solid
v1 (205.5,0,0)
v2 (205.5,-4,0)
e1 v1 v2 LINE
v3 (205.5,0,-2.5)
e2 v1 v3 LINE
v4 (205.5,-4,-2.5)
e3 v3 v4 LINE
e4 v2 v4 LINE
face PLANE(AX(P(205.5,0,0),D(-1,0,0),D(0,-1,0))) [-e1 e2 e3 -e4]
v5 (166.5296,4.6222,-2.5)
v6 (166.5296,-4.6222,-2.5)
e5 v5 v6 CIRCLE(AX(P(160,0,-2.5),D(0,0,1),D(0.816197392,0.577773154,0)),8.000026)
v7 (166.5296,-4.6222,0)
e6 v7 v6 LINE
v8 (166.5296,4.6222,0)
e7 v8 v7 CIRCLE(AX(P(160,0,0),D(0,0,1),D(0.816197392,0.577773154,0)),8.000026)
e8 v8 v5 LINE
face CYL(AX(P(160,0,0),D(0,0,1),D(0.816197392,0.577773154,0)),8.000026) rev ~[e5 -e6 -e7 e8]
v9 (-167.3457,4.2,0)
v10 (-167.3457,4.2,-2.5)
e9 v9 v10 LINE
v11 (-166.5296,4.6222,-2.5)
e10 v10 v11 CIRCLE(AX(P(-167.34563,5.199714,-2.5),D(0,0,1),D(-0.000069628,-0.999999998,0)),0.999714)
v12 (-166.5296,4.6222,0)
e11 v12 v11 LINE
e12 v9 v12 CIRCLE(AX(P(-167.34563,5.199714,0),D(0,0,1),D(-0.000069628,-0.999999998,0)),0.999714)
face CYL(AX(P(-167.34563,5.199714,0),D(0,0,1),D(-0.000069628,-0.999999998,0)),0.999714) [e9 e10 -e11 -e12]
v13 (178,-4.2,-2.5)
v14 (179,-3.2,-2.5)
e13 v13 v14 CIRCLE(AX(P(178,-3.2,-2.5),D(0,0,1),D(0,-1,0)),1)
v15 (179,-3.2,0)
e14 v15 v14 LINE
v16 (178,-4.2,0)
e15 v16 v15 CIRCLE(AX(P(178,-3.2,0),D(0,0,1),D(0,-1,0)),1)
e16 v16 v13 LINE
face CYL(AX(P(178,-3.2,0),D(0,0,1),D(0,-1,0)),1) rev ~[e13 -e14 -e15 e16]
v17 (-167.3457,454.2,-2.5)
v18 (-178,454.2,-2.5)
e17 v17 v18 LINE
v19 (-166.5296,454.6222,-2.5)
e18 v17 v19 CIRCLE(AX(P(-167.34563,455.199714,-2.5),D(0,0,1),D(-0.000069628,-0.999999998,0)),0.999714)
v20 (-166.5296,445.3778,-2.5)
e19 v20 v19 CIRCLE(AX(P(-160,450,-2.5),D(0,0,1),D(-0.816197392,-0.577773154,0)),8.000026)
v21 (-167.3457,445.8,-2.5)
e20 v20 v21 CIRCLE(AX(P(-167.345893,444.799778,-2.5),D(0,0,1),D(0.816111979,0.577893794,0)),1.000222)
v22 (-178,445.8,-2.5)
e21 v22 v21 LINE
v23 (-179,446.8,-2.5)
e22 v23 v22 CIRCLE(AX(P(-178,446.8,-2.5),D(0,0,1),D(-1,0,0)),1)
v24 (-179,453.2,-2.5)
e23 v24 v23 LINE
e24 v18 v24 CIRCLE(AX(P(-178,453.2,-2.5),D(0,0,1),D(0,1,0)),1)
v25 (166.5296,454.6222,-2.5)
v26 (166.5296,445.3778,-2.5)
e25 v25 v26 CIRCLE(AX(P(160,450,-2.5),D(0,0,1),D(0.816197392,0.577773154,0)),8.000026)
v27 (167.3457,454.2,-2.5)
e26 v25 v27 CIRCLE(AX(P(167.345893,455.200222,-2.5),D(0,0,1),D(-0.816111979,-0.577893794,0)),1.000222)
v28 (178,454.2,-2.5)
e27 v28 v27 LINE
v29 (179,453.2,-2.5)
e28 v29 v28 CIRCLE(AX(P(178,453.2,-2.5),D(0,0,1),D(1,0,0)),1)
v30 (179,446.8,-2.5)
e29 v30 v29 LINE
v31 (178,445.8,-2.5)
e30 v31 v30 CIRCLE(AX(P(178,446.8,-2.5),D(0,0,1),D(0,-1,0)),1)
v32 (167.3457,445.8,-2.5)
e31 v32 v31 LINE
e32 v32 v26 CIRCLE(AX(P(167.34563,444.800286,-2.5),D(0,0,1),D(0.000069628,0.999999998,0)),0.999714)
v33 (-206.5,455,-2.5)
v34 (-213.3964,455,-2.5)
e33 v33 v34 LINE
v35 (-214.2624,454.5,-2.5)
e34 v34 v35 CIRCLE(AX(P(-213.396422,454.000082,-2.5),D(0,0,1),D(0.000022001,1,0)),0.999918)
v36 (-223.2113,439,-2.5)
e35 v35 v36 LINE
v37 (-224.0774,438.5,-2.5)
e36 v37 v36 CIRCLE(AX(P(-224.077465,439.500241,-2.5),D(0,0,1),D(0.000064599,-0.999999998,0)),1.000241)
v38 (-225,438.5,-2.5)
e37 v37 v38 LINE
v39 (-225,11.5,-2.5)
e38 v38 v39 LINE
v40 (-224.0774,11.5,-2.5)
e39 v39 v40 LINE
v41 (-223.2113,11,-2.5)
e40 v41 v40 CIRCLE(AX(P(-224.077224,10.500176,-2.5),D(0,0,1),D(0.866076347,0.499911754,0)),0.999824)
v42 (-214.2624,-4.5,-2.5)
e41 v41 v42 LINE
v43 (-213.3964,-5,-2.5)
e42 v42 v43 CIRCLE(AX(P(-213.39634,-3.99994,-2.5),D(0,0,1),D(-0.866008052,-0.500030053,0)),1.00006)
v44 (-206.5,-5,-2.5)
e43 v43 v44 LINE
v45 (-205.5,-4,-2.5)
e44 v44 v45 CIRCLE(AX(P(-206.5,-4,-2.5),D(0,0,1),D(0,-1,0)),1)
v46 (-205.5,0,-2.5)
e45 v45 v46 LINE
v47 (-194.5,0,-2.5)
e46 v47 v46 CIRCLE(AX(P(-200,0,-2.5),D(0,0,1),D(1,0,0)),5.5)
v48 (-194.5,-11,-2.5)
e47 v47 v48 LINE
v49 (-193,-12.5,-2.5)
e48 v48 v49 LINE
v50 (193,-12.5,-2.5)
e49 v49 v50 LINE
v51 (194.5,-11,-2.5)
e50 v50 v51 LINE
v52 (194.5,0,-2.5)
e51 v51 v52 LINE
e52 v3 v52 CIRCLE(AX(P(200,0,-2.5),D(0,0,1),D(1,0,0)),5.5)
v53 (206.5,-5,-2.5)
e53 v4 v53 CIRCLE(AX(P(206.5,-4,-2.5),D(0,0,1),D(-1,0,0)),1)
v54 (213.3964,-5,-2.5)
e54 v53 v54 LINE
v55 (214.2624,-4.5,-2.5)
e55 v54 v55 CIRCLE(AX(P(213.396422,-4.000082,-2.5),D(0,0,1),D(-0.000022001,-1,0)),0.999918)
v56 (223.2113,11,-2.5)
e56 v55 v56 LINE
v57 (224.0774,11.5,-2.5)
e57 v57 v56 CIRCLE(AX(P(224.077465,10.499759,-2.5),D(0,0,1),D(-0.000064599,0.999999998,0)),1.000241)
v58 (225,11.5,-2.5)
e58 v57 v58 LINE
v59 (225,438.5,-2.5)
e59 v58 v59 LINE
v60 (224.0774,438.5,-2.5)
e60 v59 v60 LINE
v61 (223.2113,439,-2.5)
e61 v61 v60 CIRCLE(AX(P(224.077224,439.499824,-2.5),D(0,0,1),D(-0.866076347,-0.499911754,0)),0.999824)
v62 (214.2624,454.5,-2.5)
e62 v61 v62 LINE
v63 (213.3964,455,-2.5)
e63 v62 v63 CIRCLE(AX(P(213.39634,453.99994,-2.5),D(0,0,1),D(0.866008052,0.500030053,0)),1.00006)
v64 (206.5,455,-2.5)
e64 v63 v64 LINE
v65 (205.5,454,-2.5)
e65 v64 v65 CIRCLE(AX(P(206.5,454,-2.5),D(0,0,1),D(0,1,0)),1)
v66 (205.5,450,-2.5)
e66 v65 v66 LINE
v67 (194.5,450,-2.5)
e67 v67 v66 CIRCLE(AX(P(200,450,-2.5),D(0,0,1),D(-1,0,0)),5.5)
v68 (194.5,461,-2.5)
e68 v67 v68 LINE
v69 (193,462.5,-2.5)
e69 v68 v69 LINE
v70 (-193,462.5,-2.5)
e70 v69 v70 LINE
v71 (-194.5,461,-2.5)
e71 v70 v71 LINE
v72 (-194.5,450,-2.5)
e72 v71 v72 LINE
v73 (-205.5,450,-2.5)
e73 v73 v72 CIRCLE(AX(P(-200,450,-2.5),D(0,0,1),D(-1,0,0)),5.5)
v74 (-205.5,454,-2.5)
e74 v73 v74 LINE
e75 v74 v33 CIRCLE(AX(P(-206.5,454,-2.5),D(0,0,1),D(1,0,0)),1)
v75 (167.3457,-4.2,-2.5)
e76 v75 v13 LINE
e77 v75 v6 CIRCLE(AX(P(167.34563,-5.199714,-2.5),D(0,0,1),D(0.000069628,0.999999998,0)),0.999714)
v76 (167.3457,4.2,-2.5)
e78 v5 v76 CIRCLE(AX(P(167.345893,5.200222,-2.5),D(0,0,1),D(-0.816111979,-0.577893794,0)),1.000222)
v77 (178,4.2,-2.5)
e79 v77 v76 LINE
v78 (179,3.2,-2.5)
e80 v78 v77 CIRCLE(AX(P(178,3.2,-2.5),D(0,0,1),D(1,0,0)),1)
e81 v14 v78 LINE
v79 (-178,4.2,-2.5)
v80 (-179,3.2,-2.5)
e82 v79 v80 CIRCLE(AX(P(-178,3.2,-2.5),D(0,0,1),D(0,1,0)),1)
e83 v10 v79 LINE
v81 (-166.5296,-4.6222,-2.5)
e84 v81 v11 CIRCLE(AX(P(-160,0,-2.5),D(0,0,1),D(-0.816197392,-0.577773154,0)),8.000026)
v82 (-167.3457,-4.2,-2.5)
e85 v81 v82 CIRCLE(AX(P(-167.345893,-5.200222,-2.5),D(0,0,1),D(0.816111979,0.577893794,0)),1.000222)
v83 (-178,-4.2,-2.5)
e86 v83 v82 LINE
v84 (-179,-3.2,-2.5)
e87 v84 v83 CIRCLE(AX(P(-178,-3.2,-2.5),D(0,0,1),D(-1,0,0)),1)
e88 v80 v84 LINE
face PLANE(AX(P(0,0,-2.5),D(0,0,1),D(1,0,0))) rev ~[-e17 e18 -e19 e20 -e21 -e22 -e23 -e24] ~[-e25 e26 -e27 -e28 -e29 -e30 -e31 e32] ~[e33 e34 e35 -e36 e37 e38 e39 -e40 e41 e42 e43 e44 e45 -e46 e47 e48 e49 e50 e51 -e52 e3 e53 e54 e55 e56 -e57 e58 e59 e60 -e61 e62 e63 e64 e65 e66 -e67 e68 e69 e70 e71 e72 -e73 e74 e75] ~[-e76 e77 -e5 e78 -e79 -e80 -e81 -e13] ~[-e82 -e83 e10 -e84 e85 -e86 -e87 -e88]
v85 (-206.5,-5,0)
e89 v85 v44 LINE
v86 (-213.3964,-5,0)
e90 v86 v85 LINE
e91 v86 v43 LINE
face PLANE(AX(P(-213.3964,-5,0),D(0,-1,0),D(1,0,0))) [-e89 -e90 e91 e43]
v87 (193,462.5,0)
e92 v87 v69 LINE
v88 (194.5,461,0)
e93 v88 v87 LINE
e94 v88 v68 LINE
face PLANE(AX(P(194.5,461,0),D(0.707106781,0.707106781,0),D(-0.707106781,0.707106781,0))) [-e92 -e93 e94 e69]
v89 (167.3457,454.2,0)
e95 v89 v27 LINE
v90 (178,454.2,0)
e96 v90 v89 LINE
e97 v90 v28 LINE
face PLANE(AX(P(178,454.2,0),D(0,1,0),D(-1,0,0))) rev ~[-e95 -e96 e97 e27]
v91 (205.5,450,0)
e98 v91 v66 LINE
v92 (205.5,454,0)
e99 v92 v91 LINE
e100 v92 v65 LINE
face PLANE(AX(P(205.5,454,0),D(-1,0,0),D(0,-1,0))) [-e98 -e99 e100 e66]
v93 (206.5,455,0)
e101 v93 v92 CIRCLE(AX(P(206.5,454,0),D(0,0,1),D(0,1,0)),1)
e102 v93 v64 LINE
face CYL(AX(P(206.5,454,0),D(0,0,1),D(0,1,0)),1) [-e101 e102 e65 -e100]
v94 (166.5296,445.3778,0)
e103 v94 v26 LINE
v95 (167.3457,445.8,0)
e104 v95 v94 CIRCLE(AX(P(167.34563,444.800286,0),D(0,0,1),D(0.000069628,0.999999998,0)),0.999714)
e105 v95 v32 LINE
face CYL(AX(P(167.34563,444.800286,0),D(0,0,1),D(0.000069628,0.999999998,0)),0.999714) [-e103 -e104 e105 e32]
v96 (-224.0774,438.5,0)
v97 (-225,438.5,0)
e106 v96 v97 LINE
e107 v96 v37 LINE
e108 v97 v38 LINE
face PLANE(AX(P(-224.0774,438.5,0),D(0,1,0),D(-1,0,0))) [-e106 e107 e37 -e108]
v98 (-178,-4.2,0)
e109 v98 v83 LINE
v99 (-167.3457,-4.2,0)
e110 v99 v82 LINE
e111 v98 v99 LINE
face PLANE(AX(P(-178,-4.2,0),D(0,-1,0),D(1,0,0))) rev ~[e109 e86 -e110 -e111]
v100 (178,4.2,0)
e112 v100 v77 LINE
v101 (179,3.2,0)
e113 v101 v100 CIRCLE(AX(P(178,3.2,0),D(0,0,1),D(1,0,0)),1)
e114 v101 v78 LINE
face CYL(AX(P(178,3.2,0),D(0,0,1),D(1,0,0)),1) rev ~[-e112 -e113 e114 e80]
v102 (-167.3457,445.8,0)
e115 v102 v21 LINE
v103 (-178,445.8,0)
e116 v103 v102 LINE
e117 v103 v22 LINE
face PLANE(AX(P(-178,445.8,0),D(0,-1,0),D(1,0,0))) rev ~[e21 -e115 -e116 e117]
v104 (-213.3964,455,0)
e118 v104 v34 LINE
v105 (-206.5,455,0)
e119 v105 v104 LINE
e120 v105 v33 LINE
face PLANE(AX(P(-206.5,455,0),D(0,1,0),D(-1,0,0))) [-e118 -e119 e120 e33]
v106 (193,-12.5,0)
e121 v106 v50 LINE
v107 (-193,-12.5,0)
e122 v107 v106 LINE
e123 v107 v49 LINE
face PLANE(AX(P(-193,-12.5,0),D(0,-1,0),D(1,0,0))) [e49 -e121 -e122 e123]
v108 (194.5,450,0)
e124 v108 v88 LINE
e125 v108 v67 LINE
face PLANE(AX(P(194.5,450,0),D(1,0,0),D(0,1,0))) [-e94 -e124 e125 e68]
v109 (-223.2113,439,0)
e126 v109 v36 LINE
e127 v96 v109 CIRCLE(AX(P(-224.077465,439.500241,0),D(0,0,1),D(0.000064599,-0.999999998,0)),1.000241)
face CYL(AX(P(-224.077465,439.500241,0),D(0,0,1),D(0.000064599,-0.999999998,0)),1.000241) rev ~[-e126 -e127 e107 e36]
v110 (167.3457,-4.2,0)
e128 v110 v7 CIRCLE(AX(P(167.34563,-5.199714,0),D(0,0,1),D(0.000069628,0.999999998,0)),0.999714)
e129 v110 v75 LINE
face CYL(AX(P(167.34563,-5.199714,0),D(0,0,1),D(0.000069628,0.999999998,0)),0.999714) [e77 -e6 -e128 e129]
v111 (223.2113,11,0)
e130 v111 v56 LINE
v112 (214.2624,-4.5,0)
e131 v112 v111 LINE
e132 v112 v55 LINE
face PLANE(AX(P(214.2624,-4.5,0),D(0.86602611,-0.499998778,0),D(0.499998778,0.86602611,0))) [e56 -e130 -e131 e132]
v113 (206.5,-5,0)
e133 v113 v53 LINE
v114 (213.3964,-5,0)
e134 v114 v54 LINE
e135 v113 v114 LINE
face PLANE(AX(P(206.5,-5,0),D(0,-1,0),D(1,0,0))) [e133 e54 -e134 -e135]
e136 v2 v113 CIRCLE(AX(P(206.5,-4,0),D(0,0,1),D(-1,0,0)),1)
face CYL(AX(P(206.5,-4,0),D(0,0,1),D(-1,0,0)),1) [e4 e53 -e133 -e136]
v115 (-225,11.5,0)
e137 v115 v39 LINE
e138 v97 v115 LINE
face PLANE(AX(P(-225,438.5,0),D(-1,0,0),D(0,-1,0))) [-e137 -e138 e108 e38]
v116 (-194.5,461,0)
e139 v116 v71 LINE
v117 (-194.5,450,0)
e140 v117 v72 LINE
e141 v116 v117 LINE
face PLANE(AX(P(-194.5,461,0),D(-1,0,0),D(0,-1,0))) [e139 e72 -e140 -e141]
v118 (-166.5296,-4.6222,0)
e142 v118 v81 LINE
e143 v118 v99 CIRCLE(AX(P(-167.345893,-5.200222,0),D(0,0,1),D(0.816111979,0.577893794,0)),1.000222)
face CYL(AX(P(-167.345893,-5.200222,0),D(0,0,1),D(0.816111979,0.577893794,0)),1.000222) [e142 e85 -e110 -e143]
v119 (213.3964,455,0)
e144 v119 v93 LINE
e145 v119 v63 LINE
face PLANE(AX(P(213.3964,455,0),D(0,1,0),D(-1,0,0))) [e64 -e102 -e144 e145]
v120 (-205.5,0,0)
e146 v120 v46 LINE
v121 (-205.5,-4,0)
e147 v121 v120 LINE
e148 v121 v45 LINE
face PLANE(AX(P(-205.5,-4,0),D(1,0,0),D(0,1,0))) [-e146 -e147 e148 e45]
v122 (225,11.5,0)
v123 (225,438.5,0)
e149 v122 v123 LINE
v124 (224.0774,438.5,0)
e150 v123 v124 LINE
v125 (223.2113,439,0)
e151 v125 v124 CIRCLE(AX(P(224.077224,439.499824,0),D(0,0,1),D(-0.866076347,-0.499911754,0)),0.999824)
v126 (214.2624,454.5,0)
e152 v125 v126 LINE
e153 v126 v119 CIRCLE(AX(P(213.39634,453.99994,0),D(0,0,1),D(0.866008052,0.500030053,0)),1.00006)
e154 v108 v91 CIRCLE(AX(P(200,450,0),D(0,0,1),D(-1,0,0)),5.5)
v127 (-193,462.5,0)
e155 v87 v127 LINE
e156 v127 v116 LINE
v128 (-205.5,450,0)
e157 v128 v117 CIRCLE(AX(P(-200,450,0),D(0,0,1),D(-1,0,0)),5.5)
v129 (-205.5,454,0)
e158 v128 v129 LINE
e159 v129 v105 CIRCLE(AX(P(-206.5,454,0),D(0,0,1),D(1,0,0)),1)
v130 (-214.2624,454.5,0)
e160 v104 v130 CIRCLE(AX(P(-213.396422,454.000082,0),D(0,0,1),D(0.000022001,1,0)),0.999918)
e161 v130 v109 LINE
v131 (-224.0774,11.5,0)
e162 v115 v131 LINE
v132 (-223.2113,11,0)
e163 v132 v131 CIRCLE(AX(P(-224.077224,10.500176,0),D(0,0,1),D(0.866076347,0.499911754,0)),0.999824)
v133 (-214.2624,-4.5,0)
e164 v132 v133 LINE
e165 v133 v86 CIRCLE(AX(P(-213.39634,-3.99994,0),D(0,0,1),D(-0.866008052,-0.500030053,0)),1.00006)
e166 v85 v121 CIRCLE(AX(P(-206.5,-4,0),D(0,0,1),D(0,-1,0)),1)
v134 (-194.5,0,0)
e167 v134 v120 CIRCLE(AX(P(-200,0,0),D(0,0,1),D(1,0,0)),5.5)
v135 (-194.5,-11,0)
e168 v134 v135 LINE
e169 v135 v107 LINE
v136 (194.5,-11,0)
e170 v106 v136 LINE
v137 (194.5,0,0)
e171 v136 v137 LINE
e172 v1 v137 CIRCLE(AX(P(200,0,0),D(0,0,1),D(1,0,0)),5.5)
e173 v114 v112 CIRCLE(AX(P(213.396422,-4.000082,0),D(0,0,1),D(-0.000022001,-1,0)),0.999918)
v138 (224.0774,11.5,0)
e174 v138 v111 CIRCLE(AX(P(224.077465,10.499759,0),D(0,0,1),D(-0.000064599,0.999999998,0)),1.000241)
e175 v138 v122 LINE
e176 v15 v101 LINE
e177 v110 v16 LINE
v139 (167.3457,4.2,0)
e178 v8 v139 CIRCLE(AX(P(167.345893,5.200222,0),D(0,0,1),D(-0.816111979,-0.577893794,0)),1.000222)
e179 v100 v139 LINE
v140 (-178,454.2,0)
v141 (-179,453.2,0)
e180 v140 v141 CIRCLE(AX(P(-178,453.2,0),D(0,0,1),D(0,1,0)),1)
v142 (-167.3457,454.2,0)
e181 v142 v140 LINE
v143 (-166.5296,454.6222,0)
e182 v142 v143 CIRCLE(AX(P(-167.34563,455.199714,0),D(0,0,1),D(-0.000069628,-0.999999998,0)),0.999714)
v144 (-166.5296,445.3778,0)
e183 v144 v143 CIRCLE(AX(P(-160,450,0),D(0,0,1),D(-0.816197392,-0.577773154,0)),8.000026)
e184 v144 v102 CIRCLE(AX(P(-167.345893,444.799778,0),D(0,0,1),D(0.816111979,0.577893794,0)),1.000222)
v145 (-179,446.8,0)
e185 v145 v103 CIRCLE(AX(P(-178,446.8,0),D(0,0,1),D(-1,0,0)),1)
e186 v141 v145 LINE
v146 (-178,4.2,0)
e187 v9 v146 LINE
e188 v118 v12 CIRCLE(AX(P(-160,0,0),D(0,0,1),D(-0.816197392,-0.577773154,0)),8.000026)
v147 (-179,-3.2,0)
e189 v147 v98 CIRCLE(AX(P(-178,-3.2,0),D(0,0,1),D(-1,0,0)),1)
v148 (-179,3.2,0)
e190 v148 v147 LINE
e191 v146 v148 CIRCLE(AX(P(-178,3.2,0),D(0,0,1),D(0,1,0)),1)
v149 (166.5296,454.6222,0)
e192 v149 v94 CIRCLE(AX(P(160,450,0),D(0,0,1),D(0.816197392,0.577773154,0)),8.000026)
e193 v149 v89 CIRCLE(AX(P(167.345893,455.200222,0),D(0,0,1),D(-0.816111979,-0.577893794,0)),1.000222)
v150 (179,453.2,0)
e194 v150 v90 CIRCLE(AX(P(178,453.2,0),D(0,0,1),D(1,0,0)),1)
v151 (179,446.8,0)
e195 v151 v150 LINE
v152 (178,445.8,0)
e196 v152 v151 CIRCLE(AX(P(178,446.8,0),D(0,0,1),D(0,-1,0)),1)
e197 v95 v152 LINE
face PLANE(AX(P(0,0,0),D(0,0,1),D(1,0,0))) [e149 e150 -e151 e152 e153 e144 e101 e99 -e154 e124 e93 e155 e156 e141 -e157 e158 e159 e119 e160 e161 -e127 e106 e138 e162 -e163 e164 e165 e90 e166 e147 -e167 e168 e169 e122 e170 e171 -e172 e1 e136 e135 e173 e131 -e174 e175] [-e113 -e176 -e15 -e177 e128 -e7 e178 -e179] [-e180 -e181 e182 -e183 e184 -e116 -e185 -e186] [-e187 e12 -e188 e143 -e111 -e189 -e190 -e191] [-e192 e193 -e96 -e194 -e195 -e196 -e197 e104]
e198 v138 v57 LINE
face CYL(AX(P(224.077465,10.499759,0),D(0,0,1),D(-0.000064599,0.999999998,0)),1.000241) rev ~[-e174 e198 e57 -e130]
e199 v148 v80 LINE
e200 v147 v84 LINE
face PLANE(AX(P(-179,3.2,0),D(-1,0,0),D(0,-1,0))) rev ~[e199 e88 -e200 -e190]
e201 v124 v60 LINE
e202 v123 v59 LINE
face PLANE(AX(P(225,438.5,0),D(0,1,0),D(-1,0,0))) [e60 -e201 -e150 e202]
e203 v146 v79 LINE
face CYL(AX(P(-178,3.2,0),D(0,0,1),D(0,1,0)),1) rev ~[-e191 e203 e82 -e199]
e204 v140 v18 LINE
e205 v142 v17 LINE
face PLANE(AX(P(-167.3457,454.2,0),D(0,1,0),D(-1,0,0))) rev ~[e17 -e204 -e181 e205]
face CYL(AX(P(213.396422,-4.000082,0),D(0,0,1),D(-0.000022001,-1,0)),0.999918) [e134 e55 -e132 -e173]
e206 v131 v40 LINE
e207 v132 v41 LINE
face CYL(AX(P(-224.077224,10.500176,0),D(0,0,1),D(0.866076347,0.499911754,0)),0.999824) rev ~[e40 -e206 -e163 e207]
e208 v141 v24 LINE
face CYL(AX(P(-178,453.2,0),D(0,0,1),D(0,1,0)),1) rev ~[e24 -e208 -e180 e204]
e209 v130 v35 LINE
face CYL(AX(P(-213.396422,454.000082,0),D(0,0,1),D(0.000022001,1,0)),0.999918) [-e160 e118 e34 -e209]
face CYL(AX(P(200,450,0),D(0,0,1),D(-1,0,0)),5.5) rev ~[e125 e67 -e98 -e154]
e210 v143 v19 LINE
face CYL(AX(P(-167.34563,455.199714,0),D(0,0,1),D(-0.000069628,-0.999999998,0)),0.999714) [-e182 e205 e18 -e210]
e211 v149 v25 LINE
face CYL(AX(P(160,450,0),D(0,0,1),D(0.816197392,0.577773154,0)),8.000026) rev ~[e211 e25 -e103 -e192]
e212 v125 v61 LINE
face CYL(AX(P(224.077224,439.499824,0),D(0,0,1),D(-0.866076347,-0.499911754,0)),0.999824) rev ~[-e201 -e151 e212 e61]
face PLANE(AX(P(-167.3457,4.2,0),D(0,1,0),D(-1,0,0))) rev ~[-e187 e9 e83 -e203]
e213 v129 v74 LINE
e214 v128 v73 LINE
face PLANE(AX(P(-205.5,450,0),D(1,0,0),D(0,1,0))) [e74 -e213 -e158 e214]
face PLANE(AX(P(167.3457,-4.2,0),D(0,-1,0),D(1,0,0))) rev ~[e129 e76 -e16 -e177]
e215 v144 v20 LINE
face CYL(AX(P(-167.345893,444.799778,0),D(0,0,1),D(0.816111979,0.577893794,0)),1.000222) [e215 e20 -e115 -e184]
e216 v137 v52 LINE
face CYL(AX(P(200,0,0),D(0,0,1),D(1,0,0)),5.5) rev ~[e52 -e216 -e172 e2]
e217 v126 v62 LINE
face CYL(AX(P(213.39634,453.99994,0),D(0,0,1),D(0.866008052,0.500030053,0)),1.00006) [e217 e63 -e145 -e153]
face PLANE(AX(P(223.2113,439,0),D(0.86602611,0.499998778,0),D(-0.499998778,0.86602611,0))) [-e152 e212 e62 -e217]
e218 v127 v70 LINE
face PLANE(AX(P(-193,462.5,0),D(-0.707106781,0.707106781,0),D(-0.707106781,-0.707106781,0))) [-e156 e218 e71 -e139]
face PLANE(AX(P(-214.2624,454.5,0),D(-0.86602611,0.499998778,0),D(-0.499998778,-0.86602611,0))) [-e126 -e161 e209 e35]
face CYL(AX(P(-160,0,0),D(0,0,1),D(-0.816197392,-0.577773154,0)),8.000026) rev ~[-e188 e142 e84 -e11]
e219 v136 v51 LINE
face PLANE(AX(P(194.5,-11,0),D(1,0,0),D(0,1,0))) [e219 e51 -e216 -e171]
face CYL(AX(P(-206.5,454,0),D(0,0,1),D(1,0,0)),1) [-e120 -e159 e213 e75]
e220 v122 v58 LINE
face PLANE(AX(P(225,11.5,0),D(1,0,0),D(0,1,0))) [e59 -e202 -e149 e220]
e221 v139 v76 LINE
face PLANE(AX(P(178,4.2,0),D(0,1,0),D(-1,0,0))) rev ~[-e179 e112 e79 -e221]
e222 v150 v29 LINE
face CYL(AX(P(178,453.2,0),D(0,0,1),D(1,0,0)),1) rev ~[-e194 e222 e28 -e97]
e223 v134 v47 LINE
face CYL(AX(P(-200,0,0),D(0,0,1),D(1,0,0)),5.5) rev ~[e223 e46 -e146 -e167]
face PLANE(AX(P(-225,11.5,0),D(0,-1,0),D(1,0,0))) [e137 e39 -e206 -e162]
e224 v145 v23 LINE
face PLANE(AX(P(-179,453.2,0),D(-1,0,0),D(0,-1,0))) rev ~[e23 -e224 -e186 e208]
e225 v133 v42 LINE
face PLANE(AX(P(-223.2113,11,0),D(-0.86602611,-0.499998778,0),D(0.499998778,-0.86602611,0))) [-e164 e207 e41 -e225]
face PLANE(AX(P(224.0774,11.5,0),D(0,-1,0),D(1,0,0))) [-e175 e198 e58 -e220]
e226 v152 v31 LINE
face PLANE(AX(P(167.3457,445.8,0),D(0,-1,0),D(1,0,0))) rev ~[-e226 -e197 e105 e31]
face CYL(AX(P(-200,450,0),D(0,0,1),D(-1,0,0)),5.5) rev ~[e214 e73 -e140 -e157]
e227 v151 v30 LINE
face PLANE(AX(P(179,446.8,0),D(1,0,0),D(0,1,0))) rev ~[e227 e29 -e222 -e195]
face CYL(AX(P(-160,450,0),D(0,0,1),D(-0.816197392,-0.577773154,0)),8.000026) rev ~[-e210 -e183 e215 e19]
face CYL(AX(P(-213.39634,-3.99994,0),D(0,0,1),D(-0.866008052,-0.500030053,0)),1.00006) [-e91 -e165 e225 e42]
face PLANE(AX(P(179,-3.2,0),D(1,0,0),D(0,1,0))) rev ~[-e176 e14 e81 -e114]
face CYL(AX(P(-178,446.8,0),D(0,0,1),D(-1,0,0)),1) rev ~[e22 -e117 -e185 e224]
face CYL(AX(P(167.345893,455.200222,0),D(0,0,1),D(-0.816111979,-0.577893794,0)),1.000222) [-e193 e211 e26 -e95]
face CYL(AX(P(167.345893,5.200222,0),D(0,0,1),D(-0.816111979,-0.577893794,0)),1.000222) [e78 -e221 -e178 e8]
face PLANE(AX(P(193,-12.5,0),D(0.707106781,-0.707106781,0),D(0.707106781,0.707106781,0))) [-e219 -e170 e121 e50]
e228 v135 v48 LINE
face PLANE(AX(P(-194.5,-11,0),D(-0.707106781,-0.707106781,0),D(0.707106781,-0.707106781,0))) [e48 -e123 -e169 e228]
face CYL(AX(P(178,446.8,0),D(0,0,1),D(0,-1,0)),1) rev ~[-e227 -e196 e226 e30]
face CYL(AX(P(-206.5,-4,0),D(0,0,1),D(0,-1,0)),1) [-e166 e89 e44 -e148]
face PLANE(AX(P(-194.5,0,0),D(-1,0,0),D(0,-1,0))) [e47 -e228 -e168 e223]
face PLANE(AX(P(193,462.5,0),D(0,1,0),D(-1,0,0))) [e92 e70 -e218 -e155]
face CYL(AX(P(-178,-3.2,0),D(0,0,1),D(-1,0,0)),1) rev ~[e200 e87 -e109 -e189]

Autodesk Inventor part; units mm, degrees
sketch "Sketch_11" plane through (0, 0, 0) normal (0, 0, 1) x (1, 0, 0)
  line L0 (-225, 438.5) -> (-225, 11.5)
  line L1 (-225, 11.5) -> (-224.0774, 11.5)
  arc A0 (-223.2113, 11) -> (-224.0774, 11.5) centre (-224.0774, 10.5) ccw
  line L2 (-223.2113, 11) -> (-214.2624, -4.5)
  arc A1 (-214.2624, -4.5) -> (-213.3964, -5) centre (-213.3964, -4) ccw
  line L3 (-213.3964, -5) -> (-206.5, -5)
  arc A2 (-206.5, -5) -> (-205.5, -4) centre (-206.5, -4) ccw
  line L4 (-205.5, -4) -> (-205.5, 0)
  arc A3 (-194.5, 0) -> (-205.5, 0) centre (-200, 0) ccw
  line L5 (-194.5, 0) -> (-194.5, -11)
  line L6 (-194.5, -11) -> (-193, -12.5)
  line L7 (-193, -12.5) -> (193, -12.5)
  line L8 (193, -12.5) -> (194.5, -11)
  line L9 (194.5, -11) -> (194.5, 0)
  arc A4 (205.5, 0) -> (194.5, 0) centre (200, 0) ccw
  line L10 (205.5, 0) -> (205.5, -4)
  arc A5 (205.5, -4) -> (206.5, -5) centre (206.5, -4) ccw
  line L11 (206.5, -5) -> (213.3964, -5)
  arc A6 (213.3964, -5) -> (214.2624, -4.5) centre (213.3964, -4) ccw
  line L12 (214.2624, -4.5) -> (223.2113, 11)
  arc A7 (224.0774, 11.5) -> (223.2113, 11) centre (224.0774, 10.5) ccw
  line L13 (224.0774, 11.5) -> (225, 11.5)
  line L14 (225, 11.5) -> (225, 438.5)
  line L15 (225, 438.5) -> (224.0774, 438.5)
  arc A8 (223.2113, 439) -> (224.0774, 438.5) centre (224.0774, 439.5) ccw
  line L16 (223.2113, 439) -> (214.2624, 454.5)
  arc A9 (214.2624, 454.5) -> (213.3964, 455) centre (213.3964, 454) ccw
  line L17 (213.3964, 455) -> (206.5, 455)
  arc A10 (206.5, 455) -> (205.5, 454) centre (206.5, 454) ccw
  line L18 (205.5, 454) -> (205.5, 450)
  arc A11 (194.5, 450) -> (205.5, 450) centre (200, 450) ccw
  line L19 (194.5, 450) -> (194.5, 461)
  line L20 (194.5, 461) -> (193, 462.5)
  line L21 (193, 462.5) -> (-193, 462.5)
  line L22 (-193, 462.5) -> (-194.5, 461)
  line L23 (-194.5, 461) -> (-194.5, 450)
  arc A12 (-205.5, 450) -> (-194.5, 450) centre (-200, 450) ccw
  line L24 (-205.5, 450) -> (-205.5, 454)
  arc A13 (-205.5, 454) -> (-206.5, 455) centre (-206.5, 454) ccw
  line L25 (-206.5, 455) -> (-213.3964, 455)
  arc A14 (-213.3964, 455) -> (-214.2624, 454.5) centre (-213.3964, 454) ccw
  line L26 (-214.2624, 454.5) -> (-223.2113, 439)
  arc A15 (-224.0774, 438.5) -> (-223.2113, 439) centre (-224.0774, 439.5) ccw
  line L27 (-224.0774, 438.5) -> (-225, 438.5)
  arc A16 (166.5296, 4.6222) -> (166.5296, -4.6222) centre (160, 0) ccw
  arc A17 (167.3457, -4.2) -> (166.5296, -4.6222) centre (167.3457, -5.2) ccw
  line L28 (167.3457, -4.2) -> (178, -4.2)
  arc A18 (178, -4.2) -> (179, -3.2) centre (178, -3.2) ccw
  line L29 (179, -3.2) -> (179, 3.2)
  arc A19 (179, 3.2) -> (178, 4.2) centre (178, 3.2) ccw
  line L30 (178, 4.2) -> (167.3457, 4.2)
  arc A20 (166.5296, 4.6222) -> (167.3457, 4.2) centre (167.3457, 5.2) ccw
  arc A21 (166.5296, 454.6222) -> (166.5296, 445.3778) centre (160, 450) ccw
  arc A22 (167.3457, 445.8) -> (166.5296, 445.3778) centre (167.3457, 444.8) ccw
  line L31 (167.3457, 445.8) -> (178, 445.8)
  arc A23 (178, 445.8) -> (179, 446.8) centre (178, 446.8) ccw
  line L32 (179, 446.8) -> (179, 453.2)
  arc A24 (179, 453.2) -> (178, 454.2) centre (178, 453.2) ccw
  line L33 (178, 454.2) -> (167.3457, 454.2)
  arc A25 (166.5296, 454.6222) -> (167.3457, 454.2) centre (167.3457, 455.2) ccw
  line L34 (-179, 3.2) -> (-179, -3.2)
  arc A26 (-179, -3.2) -> (-178, -4.2) centre (-178, -3.2) ccw
  line L35 (-178, -4.2) -> (-167.3457, -4.2)
  arc A27 (-166.5296, -4.6222) -> (-167.3457, -4.2) centre (-167.3457, -5.2) ccw
  arc A28 (-166.5296, -4.6222) -> (-166.5296, 4.6222) centre (-160, 0) ccw
  arc A29 (-167.3457, 4.2) -> (-166.5296, 4.6222) centre (-167.3457, 5.2) ccw
  line L36 (-167.3457, 4.2) -> (-178, 4.2)
  arc A30 (-178, 4.2) -> (-179, 3.2) centre (-178, 3.2) ccw
  arc A31 (-179, 446.8) -> (-178, 445.8) centre (-178, 446.8) ccw
  line L37 (-178, 445.8) -> (-167.3457, 445.8)
  arc A32 (-166.5296, 445.3778) -> (-167.3457, 445.8) centre (-167.3457, 444.8) ccw
  arc A33 (-166.5296, 445.3778) -> (-166.5296, 454.6222) centre (-160, 450) ccw
  arc A34 (-167.3457, 454.2) -> (-166.5296, 454.6222) centre (-167.3457, 455.2) ccw
  line L38 (-167.3457, 454.2) -> (-178, 454.2)
  arc A35 (-178, 454.2) -> (-179, 453.2) centre (-178, 453.2) ccw
  line L39 (-179, 453.2) -> (-179, 446.8)
extrude "Extrusion1" add sketch "Sketch_11" against normal blind 2.5
ref_plane "MP_XY" through (0, 0, 0) normal (0, 0, 1) x (1, 0, 0)
ref_plane "MP_YZ" through (0, 0, 0) normal (1, 0, 0) x (0, 1, 0)
ref_plane "MP_ZX" through (0, 0, 0) normal (0, 1, 0) x (0, 0, 1)
ref_plane "to_EB_XY" through (174.8, 0, -2.5) normal (0, 0, 1) x (1, 0, 0)
ref_plane "to_EB_YZ" through (174.8, 0, -2.5) normal (1, 0, 0) x (0, 1, 0)
ref_plane "to_EB_ZX" through (174.8, 0, -2.5) normal (0, 1, 0) x (0, 0, 1)
properties part number "155X_02_00_P6_(1)"
